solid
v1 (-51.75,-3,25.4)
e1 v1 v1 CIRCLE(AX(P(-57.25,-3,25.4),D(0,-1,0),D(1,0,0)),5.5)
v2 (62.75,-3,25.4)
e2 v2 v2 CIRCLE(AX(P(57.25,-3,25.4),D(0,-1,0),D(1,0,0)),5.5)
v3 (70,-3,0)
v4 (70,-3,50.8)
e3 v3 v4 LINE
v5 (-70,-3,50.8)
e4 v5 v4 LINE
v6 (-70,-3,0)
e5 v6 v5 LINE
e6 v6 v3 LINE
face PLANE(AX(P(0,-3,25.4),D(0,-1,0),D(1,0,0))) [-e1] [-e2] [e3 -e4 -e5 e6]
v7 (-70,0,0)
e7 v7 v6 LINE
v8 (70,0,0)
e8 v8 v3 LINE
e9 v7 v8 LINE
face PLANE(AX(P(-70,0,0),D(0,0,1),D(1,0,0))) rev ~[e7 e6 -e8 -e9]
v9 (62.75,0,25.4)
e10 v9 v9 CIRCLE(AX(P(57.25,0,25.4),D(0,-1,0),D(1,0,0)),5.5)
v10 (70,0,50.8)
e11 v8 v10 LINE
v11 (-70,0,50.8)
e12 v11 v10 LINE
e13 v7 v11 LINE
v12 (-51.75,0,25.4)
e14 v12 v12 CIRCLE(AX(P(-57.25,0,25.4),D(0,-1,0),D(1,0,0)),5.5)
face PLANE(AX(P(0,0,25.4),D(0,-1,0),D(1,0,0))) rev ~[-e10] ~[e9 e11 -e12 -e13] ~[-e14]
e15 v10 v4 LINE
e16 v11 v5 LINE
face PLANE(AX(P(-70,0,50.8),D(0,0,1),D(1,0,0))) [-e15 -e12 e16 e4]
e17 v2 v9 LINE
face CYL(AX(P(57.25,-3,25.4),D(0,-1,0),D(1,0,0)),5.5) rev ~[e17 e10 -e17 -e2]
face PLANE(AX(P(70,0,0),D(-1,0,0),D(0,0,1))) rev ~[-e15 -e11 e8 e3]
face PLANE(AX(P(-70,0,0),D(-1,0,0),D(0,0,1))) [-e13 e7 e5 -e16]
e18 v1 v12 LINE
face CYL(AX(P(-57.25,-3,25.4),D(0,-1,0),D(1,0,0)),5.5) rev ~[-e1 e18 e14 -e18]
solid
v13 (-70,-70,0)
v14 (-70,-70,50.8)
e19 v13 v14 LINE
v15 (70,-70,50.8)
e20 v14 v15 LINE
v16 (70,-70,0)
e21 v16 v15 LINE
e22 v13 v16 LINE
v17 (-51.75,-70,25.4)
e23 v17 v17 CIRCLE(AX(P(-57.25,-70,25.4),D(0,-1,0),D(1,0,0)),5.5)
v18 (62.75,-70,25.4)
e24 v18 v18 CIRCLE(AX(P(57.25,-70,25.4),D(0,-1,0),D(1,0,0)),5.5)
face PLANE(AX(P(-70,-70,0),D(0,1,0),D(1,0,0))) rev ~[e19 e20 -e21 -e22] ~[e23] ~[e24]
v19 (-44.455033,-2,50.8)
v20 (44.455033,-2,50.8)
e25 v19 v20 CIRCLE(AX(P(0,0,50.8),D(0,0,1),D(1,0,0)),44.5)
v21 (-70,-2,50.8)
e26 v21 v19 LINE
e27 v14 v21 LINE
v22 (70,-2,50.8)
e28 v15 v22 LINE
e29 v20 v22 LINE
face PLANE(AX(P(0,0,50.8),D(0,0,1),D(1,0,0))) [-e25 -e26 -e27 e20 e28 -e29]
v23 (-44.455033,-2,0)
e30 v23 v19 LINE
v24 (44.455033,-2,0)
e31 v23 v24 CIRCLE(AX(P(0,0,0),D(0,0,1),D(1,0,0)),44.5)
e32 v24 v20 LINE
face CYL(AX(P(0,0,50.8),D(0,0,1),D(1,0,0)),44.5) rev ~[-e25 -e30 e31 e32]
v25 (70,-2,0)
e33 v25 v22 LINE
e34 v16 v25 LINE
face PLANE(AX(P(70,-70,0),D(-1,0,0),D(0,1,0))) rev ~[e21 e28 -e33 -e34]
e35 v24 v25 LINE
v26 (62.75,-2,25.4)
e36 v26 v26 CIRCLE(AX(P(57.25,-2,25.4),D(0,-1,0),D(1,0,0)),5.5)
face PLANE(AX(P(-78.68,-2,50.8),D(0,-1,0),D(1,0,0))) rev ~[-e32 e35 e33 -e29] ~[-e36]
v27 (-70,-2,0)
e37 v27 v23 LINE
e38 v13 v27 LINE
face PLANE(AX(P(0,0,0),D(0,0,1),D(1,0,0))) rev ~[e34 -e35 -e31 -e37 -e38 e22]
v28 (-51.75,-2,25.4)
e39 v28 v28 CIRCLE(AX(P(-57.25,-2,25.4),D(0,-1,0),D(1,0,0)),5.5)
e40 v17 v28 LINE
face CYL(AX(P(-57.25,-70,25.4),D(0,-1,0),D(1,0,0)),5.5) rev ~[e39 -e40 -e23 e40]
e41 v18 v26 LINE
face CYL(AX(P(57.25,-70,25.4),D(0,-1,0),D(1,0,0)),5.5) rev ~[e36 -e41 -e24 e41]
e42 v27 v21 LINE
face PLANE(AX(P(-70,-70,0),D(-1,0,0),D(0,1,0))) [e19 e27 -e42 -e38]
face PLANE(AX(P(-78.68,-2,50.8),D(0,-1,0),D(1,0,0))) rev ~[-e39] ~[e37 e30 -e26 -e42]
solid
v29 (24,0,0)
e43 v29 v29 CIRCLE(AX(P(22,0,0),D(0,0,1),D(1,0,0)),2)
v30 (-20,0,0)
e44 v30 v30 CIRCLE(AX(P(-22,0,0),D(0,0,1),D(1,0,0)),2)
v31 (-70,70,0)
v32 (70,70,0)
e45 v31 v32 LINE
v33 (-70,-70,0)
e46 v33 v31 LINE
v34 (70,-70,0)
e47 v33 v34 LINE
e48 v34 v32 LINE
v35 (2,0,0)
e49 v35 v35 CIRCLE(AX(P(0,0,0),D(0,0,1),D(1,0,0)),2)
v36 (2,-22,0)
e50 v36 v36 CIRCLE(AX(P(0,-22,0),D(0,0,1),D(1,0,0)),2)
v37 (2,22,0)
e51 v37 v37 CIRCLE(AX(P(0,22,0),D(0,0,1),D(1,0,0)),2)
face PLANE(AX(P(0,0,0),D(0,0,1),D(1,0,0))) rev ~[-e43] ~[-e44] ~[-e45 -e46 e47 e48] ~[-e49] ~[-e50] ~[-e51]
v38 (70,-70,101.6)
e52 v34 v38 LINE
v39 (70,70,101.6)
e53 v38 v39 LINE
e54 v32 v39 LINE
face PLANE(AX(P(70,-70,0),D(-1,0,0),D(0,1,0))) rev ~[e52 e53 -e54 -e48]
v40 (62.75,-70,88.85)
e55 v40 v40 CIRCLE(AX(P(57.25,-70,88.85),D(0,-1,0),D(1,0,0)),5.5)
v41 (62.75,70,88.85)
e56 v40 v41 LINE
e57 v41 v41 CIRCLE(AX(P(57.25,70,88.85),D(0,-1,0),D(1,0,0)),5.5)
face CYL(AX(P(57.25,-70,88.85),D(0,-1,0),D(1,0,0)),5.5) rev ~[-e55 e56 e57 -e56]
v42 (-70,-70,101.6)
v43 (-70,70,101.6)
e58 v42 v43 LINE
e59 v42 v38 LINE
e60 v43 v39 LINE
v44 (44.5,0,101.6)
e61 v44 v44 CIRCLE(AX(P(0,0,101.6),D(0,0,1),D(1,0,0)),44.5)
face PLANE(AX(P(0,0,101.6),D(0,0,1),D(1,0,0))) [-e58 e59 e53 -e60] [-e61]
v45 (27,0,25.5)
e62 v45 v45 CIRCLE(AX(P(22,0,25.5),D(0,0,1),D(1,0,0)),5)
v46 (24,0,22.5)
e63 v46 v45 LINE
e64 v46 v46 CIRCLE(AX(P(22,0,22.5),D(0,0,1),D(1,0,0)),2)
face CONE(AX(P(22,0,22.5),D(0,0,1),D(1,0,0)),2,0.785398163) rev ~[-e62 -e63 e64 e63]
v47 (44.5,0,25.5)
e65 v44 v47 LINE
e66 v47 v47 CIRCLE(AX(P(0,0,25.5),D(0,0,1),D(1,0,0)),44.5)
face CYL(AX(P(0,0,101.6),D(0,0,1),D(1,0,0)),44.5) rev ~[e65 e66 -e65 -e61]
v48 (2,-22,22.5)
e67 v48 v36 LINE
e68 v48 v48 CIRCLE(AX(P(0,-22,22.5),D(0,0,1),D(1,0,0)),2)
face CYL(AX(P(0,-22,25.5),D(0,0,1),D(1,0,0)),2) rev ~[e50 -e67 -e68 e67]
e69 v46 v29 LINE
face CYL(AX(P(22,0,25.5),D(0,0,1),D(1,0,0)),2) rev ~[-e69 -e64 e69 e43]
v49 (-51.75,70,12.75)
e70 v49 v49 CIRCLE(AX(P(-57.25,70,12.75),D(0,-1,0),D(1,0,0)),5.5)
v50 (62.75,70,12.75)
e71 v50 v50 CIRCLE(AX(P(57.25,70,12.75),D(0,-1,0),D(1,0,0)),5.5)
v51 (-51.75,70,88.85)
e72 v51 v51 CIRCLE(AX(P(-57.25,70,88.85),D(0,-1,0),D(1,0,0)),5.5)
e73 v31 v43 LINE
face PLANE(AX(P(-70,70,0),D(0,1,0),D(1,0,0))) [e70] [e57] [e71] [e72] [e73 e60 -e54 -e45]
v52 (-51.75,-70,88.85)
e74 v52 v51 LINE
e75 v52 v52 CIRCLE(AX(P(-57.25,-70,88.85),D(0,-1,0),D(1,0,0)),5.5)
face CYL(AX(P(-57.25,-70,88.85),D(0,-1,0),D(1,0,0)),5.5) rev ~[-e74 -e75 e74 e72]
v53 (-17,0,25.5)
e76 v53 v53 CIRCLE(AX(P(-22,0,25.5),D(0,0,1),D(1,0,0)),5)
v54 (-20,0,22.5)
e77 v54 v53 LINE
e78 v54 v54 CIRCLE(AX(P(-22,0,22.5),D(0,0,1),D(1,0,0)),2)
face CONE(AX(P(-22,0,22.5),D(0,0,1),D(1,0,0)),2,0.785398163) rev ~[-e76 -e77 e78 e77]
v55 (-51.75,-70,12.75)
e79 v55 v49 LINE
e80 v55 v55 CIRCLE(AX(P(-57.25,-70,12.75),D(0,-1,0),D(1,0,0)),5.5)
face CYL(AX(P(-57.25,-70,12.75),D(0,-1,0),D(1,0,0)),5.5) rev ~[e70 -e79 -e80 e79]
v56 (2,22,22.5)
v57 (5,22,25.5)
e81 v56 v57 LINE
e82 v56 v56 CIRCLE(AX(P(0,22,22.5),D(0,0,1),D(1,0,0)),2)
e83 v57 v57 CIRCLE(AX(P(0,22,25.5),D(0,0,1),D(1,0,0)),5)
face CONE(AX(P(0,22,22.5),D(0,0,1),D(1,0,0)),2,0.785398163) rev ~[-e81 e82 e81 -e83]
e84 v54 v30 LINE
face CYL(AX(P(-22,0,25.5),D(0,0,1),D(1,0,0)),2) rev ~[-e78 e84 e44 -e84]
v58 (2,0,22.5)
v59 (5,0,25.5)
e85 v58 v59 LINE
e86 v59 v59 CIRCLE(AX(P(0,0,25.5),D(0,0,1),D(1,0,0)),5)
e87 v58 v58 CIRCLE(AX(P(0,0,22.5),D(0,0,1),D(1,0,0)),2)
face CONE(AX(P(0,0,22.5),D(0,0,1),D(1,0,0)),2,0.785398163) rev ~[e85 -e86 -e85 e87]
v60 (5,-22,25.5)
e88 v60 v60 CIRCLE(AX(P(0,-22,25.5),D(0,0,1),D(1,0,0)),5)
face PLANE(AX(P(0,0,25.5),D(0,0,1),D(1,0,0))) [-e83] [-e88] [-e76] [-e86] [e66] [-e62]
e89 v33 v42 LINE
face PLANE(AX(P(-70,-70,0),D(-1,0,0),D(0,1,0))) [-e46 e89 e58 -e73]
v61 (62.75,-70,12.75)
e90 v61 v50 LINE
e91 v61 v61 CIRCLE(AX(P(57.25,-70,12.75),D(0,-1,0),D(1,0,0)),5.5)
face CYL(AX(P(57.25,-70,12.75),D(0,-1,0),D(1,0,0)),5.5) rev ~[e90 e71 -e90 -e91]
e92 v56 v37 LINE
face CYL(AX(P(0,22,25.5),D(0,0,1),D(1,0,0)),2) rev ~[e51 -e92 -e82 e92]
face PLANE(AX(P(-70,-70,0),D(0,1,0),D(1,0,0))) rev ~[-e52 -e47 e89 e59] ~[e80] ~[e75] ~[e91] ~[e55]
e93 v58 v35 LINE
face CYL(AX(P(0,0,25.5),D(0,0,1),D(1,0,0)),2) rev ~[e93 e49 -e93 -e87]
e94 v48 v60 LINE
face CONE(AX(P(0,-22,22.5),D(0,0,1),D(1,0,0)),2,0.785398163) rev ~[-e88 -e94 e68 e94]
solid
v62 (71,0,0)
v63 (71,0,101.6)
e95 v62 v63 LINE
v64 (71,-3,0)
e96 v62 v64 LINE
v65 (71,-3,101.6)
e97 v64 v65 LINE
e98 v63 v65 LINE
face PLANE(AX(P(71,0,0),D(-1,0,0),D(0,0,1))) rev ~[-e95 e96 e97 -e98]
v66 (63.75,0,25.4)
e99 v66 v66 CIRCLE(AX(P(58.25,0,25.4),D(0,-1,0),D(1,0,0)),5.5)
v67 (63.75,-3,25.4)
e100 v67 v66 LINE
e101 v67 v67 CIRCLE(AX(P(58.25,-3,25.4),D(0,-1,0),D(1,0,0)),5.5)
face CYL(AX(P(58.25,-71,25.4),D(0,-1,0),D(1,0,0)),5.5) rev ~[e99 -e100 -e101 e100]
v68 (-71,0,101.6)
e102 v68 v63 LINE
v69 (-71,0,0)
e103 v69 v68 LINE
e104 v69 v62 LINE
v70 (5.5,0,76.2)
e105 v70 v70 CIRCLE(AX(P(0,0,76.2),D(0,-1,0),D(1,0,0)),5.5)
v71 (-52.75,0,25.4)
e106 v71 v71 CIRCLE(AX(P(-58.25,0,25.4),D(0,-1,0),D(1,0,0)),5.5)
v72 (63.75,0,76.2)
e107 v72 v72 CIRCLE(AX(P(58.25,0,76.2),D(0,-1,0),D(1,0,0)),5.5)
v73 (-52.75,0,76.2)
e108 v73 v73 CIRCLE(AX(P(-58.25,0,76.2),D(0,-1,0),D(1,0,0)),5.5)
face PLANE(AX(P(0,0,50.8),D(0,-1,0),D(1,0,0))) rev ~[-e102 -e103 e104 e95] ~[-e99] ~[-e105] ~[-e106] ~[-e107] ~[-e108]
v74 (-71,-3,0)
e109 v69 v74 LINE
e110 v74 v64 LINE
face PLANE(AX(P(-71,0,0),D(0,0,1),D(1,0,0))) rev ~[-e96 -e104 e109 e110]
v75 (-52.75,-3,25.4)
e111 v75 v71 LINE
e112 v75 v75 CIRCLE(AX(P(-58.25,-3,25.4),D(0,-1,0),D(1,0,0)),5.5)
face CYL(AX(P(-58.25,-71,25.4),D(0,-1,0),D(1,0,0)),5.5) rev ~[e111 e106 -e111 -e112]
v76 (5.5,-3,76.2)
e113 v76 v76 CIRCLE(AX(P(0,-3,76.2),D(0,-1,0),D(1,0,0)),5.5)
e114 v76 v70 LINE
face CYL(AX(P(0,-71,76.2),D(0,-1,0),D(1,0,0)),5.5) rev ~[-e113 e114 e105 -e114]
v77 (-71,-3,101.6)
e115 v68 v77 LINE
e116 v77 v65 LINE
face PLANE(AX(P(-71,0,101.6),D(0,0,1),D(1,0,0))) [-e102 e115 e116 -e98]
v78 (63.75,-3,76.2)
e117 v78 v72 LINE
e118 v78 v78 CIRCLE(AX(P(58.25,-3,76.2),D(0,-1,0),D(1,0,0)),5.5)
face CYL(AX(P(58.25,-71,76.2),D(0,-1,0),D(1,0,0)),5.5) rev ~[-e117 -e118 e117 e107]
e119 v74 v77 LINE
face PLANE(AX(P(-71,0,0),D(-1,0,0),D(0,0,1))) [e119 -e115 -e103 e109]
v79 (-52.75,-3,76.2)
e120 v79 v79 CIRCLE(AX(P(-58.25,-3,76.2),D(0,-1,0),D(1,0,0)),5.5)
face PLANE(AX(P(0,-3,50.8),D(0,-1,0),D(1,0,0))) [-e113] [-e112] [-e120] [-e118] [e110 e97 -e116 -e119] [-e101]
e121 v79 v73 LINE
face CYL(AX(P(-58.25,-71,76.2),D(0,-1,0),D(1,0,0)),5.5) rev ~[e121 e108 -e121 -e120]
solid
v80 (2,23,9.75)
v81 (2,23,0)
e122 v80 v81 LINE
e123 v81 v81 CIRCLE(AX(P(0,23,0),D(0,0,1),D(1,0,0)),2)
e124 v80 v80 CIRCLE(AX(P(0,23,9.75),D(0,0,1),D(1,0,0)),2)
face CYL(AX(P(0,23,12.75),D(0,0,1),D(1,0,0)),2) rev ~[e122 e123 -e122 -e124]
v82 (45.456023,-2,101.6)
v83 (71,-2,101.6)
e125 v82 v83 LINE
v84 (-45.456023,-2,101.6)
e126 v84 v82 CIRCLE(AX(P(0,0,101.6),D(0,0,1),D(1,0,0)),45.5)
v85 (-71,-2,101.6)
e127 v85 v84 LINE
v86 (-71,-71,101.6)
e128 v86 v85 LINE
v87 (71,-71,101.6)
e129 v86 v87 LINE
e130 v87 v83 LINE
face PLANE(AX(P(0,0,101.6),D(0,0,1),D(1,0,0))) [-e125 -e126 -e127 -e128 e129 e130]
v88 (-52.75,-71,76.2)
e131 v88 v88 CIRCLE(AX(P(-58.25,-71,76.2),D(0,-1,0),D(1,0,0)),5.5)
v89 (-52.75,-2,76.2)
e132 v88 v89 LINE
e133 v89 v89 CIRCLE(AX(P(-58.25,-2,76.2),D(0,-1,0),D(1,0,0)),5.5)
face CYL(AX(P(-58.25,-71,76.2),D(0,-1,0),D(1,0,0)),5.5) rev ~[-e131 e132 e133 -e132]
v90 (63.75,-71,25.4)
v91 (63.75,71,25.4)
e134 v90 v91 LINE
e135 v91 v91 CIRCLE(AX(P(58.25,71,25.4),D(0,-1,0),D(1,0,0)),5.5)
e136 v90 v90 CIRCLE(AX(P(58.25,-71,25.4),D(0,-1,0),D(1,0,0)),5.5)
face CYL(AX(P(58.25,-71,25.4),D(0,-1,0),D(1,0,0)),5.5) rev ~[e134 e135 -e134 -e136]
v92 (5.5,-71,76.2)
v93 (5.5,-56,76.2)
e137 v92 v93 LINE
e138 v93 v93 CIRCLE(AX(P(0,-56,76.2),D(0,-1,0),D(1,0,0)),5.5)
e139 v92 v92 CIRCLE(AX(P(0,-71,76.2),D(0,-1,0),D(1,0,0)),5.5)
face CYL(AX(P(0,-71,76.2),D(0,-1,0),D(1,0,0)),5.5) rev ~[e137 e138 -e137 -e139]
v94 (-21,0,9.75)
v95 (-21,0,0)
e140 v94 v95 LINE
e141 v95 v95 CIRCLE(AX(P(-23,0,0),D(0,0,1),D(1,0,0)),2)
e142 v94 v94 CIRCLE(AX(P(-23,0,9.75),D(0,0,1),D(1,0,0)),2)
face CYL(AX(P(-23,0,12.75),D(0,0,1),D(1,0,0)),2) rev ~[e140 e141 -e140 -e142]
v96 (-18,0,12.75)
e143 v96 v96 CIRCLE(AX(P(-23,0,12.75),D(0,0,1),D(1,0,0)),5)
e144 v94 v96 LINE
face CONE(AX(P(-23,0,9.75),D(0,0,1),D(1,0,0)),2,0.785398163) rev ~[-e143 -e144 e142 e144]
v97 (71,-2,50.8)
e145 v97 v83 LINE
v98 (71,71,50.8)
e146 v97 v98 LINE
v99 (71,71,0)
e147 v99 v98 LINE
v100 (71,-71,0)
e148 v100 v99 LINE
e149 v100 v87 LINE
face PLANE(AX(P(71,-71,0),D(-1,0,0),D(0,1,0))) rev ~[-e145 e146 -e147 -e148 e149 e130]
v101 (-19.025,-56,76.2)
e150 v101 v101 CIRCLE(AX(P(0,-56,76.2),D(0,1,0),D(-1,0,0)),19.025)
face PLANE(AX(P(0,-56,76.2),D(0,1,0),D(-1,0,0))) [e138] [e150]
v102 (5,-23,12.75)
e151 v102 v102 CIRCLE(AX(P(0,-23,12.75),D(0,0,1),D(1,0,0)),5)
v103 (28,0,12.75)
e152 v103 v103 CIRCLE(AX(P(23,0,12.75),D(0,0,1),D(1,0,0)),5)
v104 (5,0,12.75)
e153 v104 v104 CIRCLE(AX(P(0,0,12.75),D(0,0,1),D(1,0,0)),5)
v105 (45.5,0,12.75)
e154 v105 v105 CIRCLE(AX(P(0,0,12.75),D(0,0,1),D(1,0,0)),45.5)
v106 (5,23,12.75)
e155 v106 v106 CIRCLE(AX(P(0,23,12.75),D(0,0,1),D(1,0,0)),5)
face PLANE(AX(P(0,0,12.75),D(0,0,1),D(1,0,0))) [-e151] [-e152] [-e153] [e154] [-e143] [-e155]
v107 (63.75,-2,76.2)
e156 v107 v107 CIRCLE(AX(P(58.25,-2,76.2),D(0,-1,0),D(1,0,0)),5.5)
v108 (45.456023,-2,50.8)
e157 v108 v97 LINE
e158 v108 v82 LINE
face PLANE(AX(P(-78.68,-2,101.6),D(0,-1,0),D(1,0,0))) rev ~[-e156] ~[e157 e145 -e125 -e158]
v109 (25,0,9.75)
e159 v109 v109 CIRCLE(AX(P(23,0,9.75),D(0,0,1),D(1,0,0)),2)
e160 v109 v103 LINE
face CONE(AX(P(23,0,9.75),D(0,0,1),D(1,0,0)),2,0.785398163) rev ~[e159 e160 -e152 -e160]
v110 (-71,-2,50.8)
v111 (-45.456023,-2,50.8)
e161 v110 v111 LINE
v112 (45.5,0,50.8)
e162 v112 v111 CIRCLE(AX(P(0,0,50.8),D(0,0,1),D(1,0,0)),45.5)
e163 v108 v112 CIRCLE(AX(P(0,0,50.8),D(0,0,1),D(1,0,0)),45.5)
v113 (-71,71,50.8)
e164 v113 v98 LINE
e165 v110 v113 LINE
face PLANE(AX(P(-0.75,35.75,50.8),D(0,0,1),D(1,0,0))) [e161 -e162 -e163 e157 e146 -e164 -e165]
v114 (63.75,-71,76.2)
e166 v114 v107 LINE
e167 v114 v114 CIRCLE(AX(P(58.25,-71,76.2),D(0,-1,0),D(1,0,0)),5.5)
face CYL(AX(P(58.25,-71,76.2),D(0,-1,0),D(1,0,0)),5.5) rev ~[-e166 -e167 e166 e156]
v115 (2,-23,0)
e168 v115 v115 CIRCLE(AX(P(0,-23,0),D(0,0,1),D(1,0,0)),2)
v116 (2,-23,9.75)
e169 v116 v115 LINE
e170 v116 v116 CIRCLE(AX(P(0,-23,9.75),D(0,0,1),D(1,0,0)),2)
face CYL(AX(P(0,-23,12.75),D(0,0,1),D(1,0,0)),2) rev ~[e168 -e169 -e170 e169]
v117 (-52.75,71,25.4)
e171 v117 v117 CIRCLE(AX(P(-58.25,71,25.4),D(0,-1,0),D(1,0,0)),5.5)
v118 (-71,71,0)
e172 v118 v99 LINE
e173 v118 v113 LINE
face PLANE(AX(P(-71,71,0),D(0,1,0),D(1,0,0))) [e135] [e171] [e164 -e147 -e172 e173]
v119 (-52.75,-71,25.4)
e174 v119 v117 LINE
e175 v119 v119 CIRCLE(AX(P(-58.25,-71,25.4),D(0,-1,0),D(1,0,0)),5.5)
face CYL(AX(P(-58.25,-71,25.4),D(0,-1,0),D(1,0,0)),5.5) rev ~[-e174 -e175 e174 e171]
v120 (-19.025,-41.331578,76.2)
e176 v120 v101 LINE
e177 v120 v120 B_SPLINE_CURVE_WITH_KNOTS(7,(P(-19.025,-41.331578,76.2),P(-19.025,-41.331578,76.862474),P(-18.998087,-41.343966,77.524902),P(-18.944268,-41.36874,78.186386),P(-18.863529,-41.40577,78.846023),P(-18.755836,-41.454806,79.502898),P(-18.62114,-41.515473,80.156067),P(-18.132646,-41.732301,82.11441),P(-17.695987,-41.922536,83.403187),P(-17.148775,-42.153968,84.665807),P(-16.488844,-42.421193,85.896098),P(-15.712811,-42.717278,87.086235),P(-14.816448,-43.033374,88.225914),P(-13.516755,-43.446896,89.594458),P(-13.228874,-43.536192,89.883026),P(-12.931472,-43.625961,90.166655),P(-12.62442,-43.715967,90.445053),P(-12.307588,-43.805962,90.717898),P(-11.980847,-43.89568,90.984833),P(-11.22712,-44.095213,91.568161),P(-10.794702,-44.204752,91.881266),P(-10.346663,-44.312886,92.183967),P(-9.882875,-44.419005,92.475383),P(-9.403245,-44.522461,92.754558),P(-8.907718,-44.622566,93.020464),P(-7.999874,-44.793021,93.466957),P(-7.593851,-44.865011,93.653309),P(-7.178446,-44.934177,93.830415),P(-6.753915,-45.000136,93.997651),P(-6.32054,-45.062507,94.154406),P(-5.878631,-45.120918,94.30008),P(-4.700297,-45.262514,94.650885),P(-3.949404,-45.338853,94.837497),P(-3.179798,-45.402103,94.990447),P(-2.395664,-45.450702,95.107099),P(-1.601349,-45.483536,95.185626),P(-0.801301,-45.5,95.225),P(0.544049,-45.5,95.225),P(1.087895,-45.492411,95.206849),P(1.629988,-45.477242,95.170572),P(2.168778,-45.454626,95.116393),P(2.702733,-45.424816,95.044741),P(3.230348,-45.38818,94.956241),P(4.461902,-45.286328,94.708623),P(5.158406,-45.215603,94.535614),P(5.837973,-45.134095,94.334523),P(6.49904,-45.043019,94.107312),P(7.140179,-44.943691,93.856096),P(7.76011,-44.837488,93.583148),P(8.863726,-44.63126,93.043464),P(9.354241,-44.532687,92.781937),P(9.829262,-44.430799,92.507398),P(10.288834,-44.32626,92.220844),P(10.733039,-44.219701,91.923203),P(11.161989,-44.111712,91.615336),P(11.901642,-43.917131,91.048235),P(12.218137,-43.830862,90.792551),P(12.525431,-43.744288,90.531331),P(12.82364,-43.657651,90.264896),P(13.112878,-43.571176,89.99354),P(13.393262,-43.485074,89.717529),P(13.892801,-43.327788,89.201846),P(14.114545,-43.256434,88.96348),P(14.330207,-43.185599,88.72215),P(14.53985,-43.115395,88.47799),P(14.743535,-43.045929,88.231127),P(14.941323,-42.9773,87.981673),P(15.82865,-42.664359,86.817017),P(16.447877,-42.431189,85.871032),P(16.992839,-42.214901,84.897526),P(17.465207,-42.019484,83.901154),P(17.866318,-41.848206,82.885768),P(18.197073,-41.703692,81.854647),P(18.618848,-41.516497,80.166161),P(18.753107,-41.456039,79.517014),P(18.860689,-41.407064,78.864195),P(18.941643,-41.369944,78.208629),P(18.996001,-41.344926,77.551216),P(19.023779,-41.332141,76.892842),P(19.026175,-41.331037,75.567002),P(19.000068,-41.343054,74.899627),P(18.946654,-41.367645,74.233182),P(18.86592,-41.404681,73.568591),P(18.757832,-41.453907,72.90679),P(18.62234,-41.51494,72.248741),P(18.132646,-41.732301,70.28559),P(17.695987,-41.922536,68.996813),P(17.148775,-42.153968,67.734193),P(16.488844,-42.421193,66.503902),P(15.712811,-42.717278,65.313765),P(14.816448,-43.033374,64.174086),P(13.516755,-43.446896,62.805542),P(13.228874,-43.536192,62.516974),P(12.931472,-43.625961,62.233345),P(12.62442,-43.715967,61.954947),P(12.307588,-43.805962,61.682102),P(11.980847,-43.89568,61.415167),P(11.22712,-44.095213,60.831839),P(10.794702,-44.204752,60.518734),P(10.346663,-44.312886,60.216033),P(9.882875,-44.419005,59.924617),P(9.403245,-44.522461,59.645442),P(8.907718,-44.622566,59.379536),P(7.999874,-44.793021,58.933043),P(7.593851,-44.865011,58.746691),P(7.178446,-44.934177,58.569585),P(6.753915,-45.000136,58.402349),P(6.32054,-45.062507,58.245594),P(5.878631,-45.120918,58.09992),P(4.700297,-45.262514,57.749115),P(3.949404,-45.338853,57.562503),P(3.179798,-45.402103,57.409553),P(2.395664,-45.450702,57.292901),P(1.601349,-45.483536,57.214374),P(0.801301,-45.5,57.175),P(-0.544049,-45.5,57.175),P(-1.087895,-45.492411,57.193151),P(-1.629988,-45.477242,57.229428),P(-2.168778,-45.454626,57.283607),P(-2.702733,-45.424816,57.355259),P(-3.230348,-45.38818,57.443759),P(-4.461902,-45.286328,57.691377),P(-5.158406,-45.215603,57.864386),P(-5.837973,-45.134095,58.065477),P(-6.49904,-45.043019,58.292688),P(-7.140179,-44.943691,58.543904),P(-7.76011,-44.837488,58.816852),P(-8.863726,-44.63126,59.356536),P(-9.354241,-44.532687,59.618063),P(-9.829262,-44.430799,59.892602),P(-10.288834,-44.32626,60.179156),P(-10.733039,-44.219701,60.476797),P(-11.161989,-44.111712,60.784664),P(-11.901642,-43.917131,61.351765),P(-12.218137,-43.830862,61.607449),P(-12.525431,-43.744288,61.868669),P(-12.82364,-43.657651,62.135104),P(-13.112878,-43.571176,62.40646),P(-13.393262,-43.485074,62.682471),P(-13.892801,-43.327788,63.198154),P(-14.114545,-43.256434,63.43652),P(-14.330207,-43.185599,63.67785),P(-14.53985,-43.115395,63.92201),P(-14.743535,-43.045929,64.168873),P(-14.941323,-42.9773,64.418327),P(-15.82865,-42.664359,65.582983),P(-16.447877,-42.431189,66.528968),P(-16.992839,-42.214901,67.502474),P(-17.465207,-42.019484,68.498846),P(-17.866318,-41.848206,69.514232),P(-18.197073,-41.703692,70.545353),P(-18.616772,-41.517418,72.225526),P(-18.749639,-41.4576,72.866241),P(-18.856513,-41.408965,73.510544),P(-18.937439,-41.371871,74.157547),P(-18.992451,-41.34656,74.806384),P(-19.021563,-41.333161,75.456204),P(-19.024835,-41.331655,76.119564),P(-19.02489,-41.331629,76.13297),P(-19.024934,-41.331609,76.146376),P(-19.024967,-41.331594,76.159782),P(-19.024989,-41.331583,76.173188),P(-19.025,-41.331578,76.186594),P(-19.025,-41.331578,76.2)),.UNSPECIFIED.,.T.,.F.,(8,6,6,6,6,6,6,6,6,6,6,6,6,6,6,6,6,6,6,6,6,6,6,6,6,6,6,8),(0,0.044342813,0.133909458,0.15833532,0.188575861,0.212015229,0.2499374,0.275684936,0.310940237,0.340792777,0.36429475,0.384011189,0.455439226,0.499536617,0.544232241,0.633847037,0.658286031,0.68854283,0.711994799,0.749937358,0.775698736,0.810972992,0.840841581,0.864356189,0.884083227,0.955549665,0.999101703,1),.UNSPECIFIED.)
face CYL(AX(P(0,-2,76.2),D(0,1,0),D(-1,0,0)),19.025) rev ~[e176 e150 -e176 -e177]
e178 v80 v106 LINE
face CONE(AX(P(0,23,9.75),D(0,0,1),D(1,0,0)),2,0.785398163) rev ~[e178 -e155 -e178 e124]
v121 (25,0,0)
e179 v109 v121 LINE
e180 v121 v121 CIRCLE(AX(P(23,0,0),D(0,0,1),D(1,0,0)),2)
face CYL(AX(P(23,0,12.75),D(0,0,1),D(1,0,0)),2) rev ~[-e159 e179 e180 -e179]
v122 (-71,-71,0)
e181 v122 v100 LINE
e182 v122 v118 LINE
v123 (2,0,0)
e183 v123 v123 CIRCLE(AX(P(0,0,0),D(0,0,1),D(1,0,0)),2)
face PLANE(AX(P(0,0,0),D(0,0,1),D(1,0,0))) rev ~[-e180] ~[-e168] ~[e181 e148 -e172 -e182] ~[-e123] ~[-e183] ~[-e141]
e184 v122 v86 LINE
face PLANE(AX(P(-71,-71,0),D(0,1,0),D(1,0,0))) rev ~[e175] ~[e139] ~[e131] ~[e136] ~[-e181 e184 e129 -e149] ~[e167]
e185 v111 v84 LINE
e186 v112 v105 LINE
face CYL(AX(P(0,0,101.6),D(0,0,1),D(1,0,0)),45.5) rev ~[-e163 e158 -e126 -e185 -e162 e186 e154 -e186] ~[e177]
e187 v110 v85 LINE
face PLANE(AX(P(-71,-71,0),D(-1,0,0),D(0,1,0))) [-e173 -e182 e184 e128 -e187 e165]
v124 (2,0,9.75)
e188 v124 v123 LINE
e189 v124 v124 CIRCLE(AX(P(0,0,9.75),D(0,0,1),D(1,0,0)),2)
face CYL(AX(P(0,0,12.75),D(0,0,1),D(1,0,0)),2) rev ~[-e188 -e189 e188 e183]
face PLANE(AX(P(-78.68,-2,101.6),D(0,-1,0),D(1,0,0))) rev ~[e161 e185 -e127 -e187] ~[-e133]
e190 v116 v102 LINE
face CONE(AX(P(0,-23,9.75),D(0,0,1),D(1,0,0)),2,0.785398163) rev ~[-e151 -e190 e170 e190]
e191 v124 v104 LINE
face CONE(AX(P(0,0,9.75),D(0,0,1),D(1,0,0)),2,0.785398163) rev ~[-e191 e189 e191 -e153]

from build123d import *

# Parameters (mm, degrees)
SKETCH_W        = 140
SKETCH_H        = 140
PAD_DEPTH       = 101.6
SKETCH001_R     = 44.5
POCKET_DEPTH    = 76.1
SKETCH002_R     = 5.5
POCKET001_DEPTH = 140.001
SKETCH007_R     = 2
POCKET005_DEPTH = 25.501
CHAMFER_SIZE    = 3
SKETCH003_W     = 140
SKETCH003_H     = 140
PAD001_DEPTH    = 50.8
SKETCH004_R     = 44.5
POCKET002_DEPTH = 50.801
SKETCH005_R     = 5.5
POCKET003_DEPTH = 140.001
SKETCH006_W     = 155.86
SKETCH006_H     = 75.5
POCKET004_DEPTH = 50.801
SKETCH008_W     = 142
SKETCH008_H     = 142
PAD002_DEPTH    = 101.6
SKETCH009_R     = 45.5
POCKET006_DEPTH = 88.85
SKETCH010_R     = 5.5
POCKET007_DEPTH = 142.001
SKETCH011_W     = 155.86
SKETCH011_H     = 75.5
POCKET008_DEPTH = 50.8
SKETCH012_R     = 2
POCKET009_DEPTH = 12.751
CHAMFER001_SIZE = 3
SKETCH013_R     = 19.025
POCKET010_DEPTH = 54
SKETCH014_W     = 142
SKETCH014_H     = 101.6
PAD003_DEPTH    = 3
SKETCH015_R     = 5.5
POCKET011_DEPTH = 71.001
SKETCH016_W     = 140
SKETCH016_H     = 50.8
PAD004_DEPTH    = 3
SKETCH017_R     = 5.5
POCKET012_DEPTH = 5


with BuildPart() as mastbasebody:
    # Sketch → Pad (new body)
    with BuildSketch(Plane.XY):
        Rectangle(SKETCH_W, SKETCH_H)
    extrude(amount=PAD_DEPTH)

    # Sketch001 (on Face6 of Pad) → Pocket (cut)
    with BuildSketch(Plane.XY.offset(101.6)):
        Circle(SKETCH001_R)
    extrude(amount=-POCKET_DEPTH, mode=Mode.SUBTRACT)

    # Sketch002 (on Face6 of Pocket) → Pocket001 (cut, through all)
    with BuildSketch(Plane.XZ.offset(70)):
        with Locations((-57.25, 88.85)):
            Circle(SKETCH002_R)
        with Locations((-57.25, 12.75)):
            Circle(SKETCH002_R)
        with Locations((57.25, 88.85)):
            Circle(SKETCH002_R)
        with Locations((57.25, 12.75)):
            Circle(SKETCH002_R)
    extrude(amount=-POCKET001_DEPTH, mode=Mode.SUBTRACT)

    # Sketch007 (on Face12 of Pocket001) → Pocket005 (cut, through all)
    with BuildSketch(Plane.XY.offset(25.5)):
        Circle(SKETCH007_R)
        with Locations((0, 22)):
            Circle(SKETCH007_R)
        with Locations((22, 0)):
            Circle(SKETCH007_R)
        with Locations((0, -22)):
            Circle(SKETCH007_R)
        with Locations((-22, 0)):
            Circle(SKETCH007_R)
    extrude(amount=-POCKET005_DEPTH, mode=Mode.SUBTRACT)

    # Chamfer
    chamfer_edges = [mastbasebody.edges().sort_by_distance(p)[0] for p in [
        (-2, 22, 25.5),
        (-2, 0, 25.5),
        (20, 0, 25.5),
        (-24, 0, 25.5),
        (-2, -22, 25.5),
    ]]
    chamfer(chamfer_edges, length=CHAMFER_SIZE)


with BuildPart() as holderbody:
    # Sketch003 → Pad001 (new body)
    with BuildSketch(Plane.XY):
        Rectangle(SKETCH003_W, SKETCH003_H)
    extrude(amount=PAD001_DEPTH)

    # Sketch004 (on Face6 of Pad001) → Pocket002 (cut, through all)
    with BuildSketch(Plane.XY.offset(50.8)):
        Circle(SKETCH004_R)
    extrude(amount=-POCKET002_DEPTH, mode=Mode.SUBTRACT)

    # Sketch005 (on Face6 of Pocket002) → Pocket003 (cut, through all)
    with BuildSketch(Plane.XZ.offset(70)):
        with Locations((-57.25, 25.4)):
            Circle(SKETCH005_R)
        with Locations((57.25, 25.4)):
            Circle(SKETCH005_R)
    extrude(amount=-POCKET003_DEPTH, mode=Mode.SUBTRACT)

    # Sketch006 (on Face4 of Pocket003) → Pocket004 (cut, through all)
    with BuildSketch(Plane.XY.offset(50.8)):
        with Locations((-0.75, 35.75)):
            Rectangle(SKETCH006_W, SKETCH006_H)
    extrude(amount=-POCKET004_DEPTH, mode=Mode.SUBTRACT)


with BuildPart() as holderbody001:
    # Sketch008 → Pad002 (new body)
    with BuildSketch(Plane.XY):
        Rectangle(SKETCH008_W, SKETCH008_H)
    extrude(amount=PAD002_DEPTH)

    # Sketch009 (on Face6 of Pad002) → Pocket006 (cut)
    with BuildSketch(Plane.XY.offset(101.6)):
        Circle(SKETCH009_R)
    extrude(amount=-POCKET006_DEPTH, mode=Mode.SUBTRACT)

    # Sketch010 (on Face6 of Pocket006) → Pocket007 (cut, through all)
    with BuildSketch(Plane.XZ.offset(71)):
        with Locations((-58.25, 25.4)):
            Circle(SKETCH010_R)
        with Locations((58.25, 25.4)):
            Circle(SKETCH010_R)
        with Locations((-58.25, 76.2)):
            Circle(SKETCH010_R)
        with Locations((58.25, 76.2)):
            Circle(SKETCH010_R)
        with Locations((0, 76.2)):
            Circle(SKETCH010_R)
    extrude(amount=-POCKET007_DEPTH, mode=Mode.SUBTRACT)

    # Sketch011 (on Face4 of Pocket007) → Pocket008 (cut)
    with BuildSketch(Plane.XY.offset(101.6)):
        with Locations((-0.75, 35.75)):
            Rectangle(SKETCH011_W, SKETCH011_H)
    extrude(amount=-POCKET008_DEPTH, mode=Mode.SUBTRACT)

    # Sketch012 (on Face16 of Pocket008) → Pocket009 (cut, through all)
    with BuildSketch(Plane.XY.offset(12.75)):
        Circle(SKETCH012_R)
        with Locations((-23, 0)):
            Circle(SKETCH012_R)
        with Locations((23, 0)):
            Circle(SKETCH012_R)
        with Locations((0, 23)):
            Circle(SKETCH012_R)
        with Locations((0, -23)):
            Circle(SKETCH012_R)
    extrude(amount=-POCKET009_DEPTH, mode=Mode.SUBTRACT)

    # Chamfer001
    chamfer001_edges = [holderbody001.edges().sort_by_distance(p)[0] for p in [
        (-2, 23, 12.75),
        (-2, 0, 12.75),
        (-25, 0, 12.75),
        (-2, -23, 12.75),
        (21, 0, 12.75),
    ]]
    chamfer(chamfer001_edges, length=CHAMFER001_SIZE)

    # Sketch013 (on Face23 of Chamfer001) → Pocket010 (cut)
    with BuildSketch(Plane(origin=(0, -2, 0), x_dir=(-1, 0, 0), z_dir=(0, 1, 0))):
        with Locations((0, 76.2)):
            Circle(SKETCH013_R)
    extrude(amount=-POCKET010_DEPTH, mode=Mode.SUBTRACT)


with BuildPart() as bigbackbody:
    # Sketch014 → Pad003 (new body)
    with BuildSketch(Plane.XZ):
        with Locations((0, 50.8)):
            Rectangle(SKETCH014_W, SKETCH014_H)
    extrude(amount=PAD003_DEPTH)

    # Sketch015 (on Face6 of Pocket006) → Pocket011 (cut, through all)
    with BuildSketch(Plane.XZ.offset(71)):
        with Locations((-58.25, 25.4)):
            Circle(SKETCH015_R)
        with Locations((58.25, 25.4)):
            Circle(SKETCH015_R)
        with Locations((-58.25, 76.2)):
            Circle(SKETCH015_R)
        with Locations((58.25, 76.2)):
            Circle(SKETCH015_R)
        with Locations((0, 76.2)):
            Circle(SKETCH015_R)
    extrude(amount=-POCKET011_DEPTH, mode=Mode.SUBTRACT)


with BuildPart() as smallbackbody:
    # Sketch016 → Pad004 (new body)
    with BuildSketch(Plane.XZ):
        with Locations((0, 25.4)):
            Rectangle(SKETCH016_W, SKETCH016_H)
    extrude(amount=PAD004_DEPTH)

    # Sketch017 (on Face6 of Pad004) → Pocket012 (cut)
    with BuildSketch(Plane.XZ.offset(3)):
        with Locations((-57.25, 25.4)):
            Circle(SKETCH017_R)
        with Locations((57.25, 25.4)):
            Circle(SKETCH017_R)
    extrude(amount=-POCKET012_DEPTH, mode=Mode.SUBTRACT)


solid = Compound([mastbasebody.part, holderbody.part, holderbody001.part, bigbackbody.part, smallbackbody.part])
